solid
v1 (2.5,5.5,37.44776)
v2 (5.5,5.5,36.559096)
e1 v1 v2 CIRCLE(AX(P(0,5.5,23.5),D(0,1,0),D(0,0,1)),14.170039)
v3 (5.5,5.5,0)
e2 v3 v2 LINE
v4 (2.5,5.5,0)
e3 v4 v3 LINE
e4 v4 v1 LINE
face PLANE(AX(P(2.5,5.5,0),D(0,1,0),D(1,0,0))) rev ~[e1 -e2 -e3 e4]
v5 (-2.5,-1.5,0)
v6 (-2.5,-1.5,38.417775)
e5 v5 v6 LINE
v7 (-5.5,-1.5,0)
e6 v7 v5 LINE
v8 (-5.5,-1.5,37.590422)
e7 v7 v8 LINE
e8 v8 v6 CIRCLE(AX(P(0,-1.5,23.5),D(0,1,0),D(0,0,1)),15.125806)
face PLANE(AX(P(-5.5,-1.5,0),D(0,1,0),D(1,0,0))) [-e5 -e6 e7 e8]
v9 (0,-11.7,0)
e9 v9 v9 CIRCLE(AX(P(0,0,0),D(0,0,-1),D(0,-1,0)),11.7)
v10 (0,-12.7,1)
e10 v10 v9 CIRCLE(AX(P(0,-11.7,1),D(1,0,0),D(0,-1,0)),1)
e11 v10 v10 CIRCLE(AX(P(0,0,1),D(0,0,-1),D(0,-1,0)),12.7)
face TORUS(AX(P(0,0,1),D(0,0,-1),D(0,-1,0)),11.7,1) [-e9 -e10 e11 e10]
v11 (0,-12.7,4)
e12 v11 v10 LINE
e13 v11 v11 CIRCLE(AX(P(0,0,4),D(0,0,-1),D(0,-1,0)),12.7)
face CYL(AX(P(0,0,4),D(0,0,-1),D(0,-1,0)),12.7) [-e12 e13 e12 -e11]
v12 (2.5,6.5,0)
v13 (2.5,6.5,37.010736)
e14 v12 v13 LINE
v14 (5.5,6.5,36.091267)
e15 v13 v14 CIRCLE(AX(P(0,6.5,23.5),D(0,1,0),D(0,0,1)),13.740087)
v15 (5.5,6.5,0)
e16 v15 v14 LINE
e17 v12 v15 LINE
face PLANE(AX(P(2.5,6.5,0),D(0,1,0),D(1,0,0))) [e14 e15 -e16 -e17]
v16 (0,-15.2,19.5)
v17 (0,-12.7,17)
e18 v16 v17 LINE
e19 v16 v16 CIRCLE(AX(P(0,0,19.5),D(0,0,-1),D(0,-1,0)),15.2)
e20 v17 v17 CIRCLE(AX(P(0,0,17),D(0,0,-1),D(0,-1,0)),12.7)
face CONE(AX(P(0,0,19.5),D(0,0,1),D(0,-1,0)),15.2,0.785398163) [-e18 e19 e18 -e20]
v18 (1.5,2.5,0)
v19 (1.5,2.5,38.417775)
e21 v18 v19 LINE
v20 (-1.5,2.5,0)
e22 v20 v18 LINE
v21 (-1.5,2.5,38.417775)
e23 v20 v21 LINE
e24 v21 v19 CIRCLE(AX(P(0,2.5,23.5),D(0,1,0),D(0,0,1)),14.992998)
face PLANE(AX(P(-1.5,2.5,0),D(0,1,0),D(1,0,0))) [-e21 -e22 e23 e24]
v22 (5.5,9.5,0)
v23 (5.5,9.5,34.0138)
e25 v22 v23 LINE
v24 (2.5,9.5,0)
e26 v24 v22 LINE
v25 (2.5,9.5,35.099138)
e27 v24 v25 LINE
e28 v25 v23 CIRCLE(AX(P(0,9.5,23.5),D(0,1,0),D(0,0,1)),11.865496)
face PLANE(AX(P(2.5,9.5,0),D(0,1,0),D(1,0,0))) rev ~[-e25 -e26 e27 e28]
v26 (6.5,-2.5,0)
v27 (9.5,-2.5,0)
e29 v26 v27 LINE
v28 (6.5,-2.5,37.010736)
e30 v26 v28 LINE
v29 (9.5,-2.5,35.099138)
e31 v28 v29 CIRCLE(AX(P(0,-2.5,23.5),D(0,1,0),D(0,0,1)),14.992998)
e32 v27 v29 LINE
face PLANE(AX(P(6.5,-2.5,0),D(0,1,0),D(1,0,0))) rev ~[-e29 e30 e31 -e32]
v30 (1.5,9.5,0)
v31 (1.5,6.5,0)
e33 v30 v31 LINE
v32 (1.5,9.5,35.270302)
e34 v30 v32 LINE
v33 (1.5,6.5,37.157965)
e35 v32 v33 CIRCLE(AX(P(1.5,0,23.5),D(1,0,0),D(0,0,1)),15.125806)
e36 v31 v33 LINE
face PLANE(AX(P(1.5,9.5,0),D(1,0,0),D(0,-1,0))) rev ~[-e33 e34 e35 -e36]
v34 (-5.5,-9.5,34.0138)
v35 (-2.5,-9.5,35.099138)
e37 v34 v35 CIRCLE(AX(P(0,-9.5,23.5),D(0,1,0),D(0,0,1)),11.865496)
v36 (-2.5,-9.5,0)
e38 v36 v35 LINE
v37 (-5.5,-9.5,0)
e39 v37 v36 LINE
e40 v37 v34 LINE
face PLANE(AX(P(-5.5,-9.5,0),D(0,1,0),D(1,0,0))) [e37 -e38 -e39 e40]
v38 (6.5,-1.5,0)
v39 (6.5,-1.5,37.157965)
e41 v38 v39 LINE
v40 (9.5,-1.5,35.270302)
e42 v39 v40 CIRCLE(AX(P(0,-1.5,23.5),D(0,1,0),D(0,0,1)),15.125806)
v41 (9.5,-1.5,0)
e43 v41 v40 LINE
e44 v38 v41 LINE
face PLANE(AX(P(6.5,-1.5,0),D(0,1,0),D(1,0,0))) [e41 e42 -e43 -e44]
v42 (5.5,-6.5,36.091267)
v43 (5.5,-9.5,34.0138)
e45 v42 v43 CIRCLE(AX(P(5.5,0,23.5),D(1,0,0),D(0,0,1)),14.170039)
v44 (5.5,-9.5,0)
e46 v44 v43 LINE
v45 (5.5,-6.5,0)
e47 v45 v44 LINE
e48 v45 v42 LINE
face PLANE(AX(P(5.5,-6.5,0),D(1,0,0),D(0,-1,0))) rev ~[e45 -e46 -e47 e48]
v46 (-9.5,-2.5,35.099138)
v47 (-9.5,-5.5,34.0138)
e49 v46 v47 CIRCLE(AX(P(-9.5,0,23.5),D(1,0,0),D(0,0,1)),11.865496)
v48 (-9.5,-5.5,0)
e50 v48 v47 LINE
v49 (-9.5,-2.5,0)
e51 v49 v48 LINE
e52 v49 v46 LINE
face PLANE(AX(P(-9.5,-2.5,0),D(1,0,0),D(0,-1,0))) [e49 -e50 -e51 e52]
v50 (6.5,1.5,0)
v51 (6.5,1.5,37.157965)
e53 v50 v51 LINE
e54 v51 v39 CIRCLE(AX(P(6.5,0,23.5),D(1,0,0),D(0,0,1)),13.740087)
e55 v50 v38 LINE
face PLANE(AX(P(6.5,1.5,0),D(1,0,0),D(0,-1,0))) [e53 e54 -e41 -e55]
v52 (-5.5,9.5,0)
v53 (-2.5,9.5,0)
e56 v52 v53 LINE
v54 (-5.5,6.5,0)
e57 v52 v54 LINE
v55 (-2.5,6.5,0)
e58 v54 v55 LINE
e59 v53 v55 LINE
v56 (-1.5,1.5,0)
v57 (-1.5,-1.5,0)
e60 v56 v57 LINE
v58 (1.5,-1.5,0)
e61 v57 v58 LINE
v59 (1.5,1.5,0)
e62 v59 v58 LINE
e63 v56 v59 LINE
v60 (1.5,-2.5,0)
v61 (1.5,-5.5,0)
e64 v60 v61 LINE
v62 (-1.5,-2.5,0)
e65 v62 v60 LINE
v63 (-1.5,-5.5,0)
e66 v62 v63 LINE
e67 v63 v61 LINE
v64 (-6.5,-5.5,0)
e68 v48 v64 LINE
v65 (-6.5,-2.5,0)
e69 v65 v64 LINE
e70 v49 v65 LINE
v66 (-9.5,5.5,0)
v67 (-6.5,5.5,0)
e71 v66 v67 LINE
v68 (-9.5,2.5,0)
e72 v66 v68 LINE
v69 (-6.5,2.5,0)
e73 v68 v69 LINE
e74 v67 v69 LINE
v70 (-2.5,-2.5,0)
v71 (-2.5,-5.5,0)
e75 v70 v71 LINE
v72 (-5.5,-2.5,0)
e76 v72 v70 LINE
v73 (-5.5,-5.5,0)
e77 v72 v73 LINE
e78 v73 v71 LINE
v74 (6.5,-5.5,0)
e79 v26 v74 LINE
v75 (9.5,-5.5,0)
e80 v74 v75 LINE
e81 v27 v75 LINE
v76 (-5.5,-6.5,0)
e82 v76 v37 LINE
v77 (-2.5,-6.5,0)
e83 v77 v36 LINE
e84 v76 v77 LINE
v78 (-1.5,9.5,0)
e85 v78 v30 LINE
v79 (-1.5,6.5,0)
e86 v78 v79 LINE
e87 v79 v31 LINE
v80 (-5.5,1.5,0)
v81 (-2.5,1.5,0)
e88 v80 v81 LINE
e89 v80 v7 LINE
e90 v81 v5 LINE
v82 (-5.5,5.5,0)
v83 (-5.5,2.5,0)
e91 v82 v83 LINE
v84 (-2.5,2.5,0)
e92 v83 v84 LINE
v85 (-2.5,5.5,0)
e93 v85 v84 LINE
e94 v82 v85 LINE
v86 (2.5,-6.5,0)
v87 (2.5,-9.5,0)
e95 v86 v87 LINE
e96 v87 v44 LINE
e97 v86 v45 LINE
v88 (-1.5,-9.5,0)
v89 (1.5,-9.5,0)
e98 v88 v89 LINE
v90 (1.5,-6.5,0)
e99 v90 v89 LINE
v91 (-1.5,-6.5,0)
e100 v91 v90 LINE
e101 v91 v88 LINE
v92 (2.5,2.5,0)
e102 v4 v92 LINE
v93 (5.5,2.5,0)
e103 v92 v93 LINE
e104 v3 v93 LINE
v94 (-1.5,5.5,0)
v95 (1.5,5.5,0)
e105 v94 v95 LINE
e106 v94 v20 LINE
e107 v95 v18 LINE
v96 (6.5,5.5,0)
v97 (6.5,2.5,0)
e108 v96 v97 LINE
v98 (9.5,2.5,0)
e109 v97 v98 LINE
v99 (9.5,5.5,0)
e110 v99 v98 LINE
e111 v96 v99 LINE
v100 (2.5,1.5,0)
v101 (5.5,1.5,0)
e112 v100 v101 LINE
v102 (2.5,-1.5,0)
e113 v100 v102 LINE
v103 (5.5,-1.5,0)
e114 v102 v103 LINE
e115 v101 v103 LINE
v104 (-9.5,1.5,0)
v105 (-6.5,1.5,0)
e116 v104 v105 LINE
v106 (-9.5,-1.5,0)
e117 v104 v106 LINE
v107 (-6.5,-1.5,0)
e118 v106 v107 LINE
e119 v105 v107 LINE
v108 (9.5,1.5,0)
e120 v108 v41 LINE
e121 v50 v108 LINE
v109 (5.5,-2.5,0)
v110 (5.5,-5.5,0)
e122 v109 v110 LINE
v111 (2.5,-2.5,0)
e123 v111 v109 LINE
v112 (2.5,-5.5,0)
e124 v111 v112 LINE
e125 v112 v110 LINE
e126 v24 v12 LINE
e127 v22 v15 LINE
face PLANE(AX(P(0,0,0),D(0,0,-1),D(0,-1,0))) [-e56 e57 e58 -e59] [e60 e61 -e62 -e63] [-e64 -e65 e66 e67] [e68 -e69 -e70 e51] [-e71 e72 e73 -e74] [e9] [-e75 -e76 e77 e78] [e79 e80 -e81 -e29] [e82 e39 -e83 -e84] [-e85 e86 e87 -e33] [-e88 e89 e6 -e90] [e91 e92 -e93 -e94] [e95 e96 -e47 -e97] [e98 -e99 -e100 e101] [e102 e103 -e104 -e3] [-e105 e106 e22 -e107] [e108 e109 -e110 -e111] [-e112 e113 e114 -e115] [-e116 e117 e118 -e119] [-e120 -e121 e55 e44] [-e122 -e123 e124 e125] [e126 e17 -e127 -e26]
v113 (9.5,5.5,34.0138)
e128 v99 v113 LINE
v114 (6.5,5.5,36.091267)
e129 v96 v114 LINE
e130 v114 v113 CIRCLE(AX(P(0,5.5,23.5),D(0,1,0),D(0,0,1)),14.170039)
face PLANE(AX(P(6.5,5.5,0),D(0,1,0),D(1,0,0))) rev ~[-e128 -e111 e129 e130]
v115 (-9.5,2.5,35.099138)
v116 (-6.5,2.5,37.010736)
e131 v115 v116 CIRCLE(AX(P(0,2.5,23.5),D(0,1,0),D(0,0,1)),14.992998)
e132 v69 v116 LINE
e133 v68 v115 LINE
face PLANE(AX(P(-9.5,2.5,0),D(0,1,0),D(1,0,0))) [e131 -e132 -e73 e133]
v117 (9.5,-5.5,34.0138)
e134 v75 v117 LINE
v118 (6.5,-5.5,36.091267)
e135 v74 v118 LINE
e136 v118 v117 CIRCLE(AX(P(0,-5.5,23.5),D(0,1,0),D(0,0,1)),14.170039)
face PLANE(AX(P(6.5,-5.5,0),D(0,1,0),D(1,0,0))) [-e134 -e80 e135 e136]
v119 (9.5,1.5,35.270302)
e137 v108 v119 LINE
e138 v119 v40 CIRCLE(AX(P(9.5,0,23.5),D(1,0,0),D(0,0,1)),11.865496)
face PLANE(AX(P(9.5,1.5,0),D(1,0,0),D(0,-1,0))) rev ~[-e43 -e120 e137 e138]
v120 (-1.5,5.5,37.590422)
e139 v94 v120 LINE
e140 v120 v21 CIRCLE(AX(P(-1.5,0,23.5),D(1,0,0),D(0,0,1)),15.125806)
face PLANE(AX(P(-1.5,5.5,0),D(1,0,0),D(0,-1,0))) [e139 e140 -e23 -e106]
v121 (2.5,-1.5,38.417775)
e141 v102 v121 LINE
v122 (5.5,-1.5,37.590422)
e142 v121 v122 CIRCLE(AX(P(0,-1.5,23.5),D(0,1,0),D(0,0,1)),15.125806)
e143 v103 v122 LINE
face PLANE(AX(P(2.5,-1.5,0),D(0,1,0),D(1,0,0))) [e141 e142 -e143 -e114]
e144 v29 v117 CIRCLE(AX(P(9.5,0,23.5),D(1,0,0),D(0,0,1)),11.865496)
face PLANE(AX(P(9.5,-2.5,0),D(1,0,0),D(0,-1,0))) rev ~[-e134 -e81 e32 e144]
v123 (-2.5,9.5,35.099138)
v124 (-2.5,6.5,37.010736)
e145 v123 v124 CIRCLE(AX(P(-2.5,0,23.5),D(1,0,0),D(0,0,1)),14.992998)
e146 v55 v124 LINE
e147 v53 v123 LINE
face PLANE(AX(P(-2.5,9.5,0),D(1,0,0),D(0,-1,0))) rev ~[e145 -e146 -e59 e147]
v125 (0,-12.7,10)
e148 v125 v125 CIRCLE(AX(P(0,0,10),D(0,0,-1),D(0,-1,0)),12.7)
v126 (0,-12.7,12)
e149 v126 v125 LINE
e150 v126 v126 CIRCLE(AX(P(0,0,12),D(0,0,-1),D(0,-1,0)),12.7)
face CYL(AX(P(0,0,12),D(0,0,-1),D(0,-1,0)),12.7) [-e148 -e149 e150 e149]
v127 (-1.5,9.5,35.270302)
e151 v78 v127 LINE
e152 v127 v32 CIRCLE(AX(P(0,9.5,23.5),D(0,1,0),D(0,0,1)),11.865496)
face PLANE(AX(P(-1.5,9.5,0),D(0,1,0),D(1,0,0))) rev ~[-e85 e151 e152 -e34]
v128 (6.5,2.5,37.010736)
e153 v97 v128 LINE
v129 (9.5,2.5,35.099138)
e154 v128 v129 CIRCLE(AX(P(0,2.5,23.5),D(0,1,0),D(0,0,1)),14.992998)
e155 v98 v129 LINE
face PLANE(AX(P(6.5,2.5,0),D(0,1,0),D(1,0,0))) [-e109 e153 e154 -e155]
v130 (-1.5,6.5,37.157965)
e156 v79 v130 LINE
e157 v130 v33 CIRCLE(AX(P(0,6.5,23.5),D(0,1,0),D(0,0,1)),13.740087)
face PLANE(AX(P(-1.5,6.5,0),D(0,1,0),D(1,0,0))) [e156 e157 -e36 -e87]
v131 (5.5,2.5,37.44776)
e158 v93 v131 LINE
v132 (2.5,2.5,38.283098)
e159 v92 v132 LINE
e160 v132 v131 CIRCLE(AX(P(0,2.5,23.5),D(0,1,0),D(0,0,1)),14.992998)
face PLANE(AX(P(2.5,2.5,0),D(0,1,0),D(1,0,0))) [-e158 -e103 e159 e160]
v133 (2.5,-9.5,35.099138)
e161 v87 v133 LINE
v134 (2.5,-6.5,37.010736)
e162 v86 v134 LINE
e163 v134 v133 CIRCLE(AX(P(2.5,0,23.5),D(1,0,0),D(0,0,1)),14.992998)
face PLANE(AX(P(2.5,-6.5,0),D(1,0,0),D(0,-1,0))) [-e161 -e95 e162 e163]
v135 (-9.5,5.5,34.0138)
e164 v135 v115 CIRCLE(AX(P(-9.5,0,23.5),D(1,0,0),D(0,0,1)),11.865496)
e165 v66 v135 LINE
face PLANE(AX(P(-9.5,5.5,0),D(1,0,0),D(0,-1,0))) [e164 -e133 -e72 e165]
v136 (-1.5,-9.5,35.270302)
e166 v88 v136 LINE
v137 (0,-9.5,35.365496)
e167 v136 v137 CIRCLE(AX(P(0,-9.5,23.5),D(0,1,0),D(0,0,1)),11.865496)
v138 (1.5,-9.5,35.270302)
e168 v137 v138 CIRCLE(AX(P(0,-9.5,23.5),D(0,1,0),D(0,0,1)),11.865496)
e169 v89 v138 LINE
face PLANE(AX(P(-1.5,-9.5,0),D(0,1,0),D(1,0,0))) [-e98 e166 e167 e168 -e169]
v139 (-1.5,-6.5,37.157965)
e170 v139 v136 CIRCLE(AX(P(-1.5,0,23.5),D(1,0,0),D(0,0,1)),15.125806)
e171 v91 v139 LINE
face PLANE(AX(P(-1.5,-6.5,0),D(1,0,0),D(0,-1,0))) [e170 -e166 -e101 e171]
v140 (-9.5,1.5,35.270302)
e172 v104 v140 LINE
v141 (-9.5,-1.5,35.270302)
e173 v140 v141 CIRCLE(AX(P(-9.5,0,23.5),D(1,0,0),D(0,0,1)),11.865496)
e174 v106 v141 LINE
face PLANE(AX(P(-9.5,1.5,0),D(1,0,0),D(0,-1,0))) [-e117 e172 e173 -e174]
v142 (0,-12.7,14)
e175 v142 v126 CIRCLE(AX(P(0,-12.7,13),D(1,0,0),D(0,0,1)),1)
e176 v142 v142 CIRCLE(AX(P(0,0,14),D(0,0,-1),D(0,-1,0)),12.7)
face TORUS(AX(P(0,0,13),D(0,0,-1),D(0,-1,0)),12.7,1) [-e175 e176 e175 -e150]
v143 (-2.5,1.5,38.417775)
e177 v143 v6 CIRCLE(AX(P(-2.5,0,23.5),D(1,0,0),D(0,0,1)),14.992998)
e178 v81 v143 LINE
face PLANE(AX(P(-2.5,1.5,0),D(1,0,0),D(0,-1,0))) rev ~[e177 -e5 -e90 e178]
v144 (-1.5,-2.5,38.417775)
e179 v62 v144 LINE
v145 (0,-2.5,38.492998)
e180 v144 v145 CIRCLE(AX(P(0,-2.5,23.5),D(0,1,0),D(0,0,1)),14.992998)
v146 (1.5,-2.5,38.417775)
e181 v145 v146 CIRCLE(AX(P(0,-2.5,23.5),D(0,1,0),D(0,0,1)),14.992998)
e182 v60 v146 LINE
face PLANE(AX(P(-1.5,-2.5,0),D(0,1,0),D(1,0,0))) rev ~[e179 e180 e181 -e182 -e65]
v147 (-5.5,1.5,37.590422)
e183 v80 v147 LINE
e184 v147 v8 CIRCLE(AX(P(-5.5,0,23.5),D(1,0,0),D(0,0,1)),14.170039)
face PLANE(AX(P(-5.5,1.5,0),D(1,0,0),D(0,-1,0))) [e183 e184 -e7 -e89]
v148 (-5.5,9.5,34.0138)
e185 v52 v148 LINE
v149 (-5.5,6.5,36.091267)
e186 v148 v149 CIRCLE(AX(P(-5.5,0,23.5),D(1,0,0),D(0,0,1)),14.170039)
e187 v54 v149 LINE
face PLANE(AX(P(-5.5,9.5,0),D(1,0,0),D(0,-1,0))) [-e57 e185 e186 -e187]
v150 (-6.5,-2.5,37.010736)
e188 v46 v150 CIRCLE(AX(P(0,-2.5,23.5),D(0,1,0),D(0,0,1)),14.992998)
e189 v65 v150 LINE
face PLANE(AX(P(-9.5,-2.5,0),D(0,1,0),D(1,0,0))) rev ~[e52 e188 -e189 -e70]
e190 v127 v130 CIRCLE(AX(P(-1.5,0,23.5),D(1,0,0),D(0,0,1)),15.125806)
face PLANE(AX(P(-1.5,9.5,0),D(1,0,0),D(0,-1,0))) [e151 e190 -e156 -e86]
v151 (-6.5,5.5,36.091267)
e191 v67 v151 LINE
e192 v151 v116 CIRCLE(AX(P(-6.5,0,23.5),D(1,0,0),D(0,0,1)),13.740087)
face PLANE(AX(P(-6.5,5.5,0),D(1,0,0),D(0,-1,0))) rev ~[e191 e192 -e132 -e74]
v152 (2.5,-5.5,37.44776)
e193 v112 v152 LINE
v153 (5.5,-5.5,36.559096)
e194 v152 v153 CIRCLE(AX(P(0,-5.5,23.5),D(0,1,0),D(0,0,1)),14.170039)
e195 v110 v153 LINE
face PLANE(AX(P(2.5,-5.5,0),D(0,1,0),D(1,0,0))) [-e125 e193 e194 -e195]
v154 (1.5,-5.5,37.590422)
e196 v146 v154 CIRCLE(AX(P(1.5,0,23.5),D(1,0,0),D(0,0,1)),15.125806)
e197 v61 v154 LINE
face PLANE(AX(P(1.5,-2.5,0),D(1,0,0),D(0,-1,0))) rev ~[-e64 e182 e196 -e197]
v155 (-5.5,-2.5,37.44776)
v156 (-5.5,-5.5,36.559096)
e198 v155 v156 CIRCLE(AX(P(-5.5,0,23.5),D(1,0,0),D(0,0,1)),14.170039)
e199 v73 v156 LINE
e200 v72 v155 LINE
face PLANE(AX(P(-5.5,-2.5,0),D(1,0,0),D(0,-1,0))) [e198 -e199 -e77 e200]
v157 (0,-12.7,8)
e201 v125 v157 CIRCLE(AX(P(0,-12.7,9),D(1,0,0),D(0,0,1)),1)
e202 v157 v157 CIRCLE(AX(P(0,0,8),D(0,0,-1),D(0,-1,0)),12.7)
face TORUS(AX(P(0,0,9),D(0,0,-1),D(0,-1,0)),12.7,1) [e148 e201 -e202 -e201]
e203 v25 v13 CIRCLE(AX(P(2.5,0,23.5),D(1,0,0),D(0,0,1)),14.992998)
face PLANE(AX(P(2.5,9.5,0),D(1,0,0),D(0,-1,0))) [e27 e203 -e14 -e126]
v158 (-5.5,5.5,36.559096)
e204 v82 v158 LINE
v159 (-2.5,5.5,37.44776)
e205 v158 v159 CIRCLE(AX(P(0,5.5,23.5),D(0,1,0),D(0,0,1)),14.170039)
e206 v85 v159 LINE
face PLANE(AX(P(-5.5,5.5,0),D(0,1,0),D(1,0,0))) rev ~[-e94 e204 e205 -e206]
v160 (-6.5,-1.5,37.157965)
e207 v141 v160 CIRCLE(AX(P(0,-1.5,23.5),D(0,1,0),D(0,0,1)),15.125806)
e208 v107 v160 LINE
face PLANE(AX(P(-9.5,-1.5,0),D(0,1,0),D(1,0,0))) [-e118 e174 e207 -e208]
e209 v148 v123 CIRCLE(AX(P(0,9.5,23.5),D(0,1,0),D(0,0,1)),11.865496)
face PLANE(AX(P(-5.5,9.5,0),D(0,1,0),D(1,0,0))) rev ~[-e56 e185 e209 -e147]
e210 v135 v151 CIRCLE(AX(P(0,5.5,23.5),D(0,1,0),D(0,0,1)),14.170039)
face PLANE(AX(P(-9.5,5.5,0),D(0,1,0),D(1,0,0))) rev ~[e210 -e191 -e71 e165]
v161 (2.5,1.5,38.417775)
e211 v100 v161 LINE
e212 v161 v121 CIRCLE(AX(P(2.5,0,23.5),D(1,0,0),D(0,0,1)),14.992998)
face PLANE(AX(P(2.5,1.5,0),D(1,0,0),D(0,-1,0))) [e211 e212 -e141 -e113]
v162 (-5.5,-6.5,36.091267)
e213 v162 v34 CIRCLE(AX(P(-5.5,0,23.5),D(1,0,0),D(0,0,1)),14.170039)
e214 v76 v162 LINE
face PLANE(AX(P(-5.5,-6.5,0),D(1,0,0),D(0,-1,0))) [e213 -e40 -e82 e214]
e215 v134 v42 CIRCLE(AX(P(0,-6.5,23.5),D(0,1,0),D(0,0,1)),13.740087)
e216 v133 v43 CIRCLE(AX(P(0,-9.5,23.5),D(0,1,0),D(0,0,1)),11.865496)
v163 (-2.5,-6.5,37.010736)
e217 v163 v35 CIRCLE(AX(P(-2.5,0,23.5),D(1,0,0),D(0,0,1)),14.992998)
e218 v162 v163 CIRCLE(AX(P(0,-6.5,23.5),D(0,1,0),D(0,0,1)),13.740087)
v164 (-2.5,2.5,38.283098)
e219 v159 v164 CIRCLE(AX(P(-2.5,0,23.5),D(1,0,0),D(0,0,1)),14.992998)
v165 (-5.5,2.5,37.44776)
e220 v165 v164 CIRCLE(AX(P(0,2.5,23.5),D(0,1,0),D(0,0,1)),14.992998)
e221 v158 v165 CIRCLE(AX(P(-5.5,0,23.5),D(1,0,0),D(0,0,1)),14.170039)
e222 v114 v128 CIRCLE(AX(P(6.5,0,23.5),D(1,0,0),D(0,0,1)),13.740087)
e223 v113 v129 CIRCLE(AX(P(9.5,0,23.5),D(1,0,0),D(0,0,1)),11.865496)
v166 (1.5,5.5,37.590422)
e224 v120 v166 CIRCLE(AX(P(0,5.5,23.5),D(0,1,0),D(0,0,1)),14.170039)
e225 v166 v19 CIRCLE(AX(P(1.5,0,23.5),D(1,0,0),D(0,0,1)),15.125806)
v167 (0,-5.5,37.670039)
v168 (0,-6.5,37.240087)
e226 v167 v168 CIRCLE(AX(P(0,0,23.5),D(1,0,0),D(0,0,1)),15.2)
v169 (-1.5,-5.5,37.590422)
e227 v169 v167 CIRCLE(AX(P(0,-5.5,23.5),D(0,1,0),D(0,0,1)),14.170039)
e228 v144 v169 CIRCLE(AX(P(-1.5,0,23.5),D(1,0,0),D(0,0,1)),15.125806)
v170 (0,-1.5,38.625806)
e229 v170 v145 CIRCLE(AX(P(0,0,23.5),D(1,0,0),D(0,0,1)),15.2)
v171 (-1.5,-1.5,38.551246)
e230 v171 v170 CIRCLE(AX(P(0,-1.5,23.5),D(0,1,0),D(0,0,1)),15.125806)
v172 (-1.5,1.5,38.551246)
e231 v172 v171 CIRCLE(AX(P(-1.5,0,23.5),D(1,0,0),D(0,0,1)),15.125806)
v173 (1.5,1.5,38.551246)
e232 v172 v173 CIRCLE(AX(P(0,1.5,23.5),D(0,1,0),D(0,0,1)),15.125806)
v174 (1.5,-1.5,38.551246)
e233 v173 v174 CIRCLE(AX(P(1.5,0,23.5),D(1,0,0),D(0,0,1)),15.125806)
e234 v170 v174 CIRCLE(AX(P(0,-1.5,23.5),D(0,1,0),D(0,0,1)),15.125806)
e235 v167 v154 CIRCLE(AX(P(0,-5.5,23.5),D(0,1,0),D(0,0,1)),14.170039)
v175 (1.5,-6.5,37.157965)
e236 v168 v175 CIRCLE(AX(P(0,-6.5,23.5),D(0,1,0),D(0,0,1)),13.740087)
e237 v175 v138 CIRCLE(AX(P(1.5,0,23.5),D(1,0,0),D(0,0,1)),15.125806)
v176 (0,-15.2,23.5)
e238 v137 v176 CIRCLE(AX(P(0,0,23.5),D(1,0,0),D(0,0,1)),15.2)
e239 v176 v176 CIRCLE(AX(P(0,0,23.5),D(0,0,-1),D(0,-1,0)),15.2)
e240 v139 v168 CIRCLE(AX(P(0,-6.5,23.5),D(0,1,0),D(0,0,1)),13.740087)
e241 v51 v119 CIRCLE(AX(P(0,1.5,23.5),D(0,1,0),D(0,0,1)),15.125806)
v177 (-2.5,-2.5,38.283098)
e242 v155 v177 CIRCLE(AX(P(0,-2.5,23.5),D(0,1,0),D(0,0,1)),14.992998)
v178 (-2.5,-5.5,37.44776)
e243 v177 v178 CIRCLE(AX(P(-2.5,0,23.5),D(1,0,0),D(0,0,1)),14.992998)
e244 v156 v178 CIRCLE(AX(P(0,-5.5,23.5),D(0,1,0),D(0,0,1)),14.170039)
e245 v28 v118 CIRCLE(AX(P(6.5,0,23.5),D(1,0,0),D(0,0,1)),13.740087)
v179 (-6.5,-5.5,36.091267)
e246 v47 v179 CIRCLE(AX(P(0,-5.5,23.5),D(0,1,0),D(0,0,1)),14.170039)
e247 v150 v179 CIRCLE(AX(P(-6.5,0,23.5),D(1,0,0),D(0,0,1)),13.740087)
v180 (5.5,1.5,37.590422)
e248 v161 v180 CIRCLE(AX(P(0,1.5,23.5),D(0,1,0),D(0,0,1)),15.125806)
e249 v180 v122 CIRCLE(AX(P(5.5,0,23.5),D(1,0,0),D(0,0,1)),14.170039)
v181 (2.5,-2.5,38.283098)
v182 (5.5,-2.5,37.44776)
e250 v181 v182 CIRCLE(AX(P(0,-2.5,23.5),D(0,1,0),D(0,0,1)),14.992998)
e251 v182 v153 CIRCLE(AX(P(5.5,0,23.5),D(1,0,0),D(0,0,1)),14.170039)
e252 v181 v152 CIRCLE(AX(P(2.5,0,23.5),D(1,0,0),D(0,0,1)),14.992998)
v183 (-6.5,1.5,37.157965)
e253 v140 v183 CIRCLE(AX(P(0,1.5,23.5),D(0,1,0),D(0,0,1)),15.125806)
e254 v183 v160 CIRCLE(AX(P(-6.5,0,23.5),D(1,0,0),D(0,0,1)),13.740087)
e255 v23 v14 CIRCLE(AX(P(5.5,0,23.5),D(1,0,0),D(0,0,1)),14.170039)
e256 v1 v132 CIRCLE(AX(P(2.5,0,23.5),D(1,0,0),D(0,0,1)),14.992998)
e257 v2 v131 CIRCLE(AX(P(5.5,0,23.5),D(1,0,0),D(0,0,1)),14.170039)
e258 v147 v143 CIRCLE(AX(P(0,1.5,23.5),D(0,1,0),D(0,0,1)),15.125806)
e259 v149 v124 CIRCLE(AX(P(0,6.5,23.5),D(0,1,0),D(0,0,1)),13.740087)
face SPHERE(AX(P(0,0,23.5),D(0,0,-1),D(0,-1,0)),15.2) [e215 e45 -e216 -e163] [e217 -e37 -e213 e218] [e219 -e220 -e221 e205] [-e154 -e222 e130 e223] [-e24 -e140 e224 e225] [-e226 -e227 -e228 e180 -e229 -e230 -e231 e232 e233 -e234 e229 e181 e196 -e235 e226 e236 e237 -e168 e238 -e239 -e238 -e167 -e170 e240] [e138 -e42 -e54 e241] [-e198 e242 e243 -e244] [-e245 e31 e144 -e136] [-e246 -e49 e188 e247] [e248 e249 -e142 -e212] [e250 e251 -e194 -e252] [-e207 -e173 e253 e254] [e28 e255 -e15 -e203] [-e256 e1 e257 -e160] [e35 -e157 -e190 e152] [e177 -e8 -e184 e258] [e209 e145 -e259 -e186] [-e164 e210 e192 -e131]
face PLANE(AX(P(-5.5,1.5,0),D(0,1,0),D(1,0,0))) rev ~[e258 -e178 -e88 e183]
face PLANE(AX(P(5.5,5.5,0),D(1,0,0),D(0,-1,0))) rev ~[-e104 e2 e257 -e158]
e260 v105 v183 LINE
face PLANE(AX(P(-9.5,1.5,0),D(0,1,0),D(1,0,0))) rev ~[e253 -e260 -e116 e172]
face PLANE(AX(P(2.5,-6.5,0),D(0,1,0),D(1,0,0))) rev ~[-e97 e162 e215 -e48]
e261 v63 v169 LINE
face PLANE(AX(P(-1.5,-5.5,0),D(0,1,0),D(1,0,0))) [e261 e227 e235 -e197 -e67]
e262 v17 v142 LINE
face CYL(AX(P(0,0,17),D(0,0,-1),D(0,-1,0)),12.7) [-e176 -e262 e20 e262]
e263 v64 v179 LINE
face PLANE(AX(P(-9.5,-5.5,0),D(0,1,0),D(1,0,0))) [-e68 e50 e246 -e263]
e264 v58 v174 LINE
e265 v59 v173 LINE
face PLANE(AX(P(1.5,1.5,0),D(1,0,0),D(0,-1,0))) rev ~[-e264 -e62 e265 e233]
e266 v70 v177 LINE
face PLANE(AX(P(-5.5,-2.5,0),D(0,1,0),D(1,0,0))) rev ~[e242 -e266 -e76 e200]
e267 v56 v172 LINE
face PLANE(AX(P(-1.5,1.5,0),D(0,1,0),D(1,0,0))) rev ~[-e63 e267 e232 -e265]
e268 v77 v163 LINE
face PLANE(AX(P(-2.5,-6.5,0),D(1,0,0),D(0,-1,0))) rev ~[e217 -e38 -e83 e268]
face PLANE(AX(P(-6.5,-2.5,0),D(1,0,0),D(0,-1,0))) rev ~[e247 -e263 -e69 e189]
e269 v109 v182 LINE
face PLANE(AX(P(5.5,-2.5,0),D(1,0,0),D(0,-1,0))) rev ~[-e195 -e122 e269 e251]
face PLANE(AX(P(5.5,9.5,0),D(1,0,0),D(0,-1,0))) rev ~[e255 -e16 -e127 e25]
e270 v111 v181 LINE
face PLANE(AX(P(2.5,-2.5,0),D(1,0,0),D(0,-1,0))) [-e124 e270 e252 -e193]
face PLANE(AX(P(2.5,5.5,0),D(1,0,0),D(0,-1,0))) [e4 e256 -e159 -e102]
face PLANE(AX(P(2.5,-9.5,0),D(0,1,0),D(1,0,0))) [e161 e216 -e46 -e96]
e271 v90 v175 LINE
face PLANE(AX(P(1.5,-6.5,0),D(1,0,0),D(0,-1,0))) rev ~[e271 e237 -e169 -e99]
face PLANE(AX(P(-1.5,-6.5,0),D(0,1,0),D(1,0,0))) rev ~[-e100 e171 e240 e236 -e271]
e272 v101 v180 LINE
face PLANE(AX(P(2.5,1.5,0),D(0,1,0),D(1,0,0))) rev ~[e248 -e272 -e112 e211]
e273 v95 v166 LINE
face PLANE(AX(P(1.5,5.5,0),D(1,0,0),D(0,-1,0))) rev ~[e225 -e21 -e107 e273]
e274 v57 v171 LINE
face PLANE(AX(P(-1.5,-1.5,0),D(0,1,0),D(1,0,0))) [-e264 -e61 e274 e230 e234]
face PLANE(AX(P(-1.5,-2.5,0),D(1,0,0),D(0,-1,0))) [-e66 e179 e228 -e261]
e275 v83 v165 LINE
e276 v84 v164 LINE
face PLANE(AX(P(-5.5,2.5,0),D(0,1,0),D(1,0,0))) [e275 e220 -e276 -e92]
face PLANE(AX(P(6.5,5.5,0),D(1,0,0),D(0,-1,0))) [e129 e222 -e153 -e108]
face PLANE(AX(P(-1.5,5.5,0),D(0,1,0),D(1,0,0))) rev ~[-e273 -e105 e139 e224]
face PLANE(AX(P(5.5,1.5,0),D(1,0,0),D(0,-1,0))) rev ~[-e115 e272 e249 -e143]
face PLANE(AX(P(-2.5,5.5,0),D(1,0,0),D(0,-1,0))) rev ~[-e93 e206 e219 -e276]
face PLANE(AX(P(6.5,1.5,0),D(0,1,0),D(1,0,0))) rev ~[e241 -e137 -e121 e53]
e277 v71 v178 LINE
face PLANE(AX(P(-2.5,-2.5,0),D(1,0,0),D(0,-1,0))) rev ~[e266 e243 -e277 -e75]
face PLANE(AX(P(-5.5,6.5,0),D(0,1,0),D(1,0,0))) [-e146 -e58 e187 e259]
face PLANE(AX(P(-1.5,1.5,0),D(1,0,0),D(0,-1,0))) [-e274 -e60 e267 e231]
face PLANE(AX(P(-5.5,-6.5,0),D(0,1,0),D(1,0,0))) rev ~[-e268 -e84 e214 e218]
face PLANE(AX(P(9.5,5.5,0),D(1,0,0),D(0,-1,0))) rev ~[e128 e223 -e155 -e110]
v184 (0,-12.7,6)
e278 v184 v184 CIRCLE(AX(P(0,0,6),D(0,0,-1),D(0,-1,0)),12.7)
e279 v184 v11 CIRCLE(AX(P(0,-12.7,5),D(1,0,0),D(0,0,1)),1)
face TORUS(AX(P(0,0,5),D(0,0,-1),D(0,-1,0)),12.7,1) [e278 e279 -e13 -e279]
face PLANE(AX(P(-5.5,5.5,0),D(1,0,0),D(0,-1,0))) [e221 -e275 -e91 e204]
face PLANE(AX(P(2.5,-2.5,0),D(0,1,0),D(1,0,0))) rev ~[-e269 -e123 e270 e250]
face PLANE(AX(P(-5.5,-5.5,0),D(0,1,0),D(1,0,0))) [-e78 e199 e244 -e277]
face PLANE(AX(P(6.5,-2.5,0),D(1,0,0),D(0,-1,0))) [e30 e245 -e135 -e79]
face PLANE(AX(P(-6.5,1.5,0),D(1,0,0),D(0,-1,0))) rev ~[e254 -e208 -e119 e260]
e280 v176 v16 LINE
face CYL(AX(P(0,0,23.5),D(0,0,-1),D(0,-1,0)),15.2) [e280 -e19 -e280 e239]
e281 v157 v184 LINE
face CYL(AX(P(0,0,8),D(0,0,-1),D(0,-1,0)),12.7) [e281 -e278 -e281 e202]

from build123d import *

# Parameters (mm, degrees)
F2_W     = 3
F2_H     = 3
F3_DEPTH = 50


with BuildPart() as f1:
    # F0 (on Right) → F1 (revolve)
    with BuildSketch(Plane.YZ):
        with BuildLine():
            Line((-11.7, 0), (0, 0))
            Line((0, 0), (0, 38.7))
            ThreePointArc((0, 38.7), (-10.748023074, 34.248023074), (-15.2, 23.5))
            Line((-15.2, 23.5), (-15.2, 19.5))
            Line((-15.2, 19.5), (-12.7, 17))
            Line((-12.7, 17), (-12.7, 14))
            ThreePointArc((-12.7, 14), (-13.7, 13), (-12.7, 12))
            Line((-12.7, 12), (-12.7, 10))
            ThreePointArc((-12.7, 10), (-13.7, 9), (-12.7, 8))
            Line((-12.7, 8), (-12.7, 6))
            ThreePointArc((-12.7, 6), (-13.7, 5), (-12.7, 4))
            Line((-12.7, 4), (-12.7, 1))
            ThreePointArc((-12.7, 1), (-12.4071067812, 0.2928932188), (-11.7, 0))
        make_face()
    revolve(axis=Axis((0, 0, 19.35), (0, 0, -1)))

    # F2 (on face) → F3 (cut)
    with BuildSketch(Plane(origin=(0, 0, 0), x_dir=(1, 0, 0), z_dir=(0, 0, -1))):
        with Locations((-8, -4)):
            Rectangle(F2_W, F2_H)
        with Locations((-8, 0)):
            Rectangle(F2_W, F2_H)
        with Locations((-8, 4)):
            Rectangle(F2_W, F2_H)
        with Locations((-4, -8)):
            Rectangle(F2_W, F2_H)
        with Locations((-4, -4)):
            Rectangle(F2_W, F2_H)
        with Locations((-4, 0)):
            Rectangle(F2_W, F2_H)
        with Locations((-4, 4)):
            Rectangle(F2_W, F2_H)
        with Locations((-4, 8)):
            Rectangle(F2_W, F2_H)
        with Locations((0, -8)):
            Rectangle(F2_W, F2_H)
        with Locations((0, -4)):
            Rectangle(F2_W, F2_H)
        Rectangle(F2_W, F2_H)
        with Locations((0, 4)):
            Rectangle(F2_W, F2_H)
        with Locations((0, 8)):
            Rectangle(F2_W, F2_H)
        with Locations((4, -8)):
            Rectangle(F2_W, F2_H)
        with Locations((4, -4)):
            Rectangle(F2_W, F2_H)
        with Locations((4, 0)):
            Rectangle(F2_W, F2_H)
        with Locations((4, 4)):
            Rectangle(F2_W, F2_H)
        with Locations((4, 8)):
            Rectangle(F2_W, F2_H)
        with Locations((8, -4)):
            Rectangle(F2_W, F2_H)
        with Locations((8, 0)):
            Rectangle(F2_W, F2_H)
        with Locations((8, 4)):
            Rectangle(F2_W, F2_H)
    extrude(amount=-F3_DEPTH, mode=Mode.SUBTRACT)


solid = f1.part
